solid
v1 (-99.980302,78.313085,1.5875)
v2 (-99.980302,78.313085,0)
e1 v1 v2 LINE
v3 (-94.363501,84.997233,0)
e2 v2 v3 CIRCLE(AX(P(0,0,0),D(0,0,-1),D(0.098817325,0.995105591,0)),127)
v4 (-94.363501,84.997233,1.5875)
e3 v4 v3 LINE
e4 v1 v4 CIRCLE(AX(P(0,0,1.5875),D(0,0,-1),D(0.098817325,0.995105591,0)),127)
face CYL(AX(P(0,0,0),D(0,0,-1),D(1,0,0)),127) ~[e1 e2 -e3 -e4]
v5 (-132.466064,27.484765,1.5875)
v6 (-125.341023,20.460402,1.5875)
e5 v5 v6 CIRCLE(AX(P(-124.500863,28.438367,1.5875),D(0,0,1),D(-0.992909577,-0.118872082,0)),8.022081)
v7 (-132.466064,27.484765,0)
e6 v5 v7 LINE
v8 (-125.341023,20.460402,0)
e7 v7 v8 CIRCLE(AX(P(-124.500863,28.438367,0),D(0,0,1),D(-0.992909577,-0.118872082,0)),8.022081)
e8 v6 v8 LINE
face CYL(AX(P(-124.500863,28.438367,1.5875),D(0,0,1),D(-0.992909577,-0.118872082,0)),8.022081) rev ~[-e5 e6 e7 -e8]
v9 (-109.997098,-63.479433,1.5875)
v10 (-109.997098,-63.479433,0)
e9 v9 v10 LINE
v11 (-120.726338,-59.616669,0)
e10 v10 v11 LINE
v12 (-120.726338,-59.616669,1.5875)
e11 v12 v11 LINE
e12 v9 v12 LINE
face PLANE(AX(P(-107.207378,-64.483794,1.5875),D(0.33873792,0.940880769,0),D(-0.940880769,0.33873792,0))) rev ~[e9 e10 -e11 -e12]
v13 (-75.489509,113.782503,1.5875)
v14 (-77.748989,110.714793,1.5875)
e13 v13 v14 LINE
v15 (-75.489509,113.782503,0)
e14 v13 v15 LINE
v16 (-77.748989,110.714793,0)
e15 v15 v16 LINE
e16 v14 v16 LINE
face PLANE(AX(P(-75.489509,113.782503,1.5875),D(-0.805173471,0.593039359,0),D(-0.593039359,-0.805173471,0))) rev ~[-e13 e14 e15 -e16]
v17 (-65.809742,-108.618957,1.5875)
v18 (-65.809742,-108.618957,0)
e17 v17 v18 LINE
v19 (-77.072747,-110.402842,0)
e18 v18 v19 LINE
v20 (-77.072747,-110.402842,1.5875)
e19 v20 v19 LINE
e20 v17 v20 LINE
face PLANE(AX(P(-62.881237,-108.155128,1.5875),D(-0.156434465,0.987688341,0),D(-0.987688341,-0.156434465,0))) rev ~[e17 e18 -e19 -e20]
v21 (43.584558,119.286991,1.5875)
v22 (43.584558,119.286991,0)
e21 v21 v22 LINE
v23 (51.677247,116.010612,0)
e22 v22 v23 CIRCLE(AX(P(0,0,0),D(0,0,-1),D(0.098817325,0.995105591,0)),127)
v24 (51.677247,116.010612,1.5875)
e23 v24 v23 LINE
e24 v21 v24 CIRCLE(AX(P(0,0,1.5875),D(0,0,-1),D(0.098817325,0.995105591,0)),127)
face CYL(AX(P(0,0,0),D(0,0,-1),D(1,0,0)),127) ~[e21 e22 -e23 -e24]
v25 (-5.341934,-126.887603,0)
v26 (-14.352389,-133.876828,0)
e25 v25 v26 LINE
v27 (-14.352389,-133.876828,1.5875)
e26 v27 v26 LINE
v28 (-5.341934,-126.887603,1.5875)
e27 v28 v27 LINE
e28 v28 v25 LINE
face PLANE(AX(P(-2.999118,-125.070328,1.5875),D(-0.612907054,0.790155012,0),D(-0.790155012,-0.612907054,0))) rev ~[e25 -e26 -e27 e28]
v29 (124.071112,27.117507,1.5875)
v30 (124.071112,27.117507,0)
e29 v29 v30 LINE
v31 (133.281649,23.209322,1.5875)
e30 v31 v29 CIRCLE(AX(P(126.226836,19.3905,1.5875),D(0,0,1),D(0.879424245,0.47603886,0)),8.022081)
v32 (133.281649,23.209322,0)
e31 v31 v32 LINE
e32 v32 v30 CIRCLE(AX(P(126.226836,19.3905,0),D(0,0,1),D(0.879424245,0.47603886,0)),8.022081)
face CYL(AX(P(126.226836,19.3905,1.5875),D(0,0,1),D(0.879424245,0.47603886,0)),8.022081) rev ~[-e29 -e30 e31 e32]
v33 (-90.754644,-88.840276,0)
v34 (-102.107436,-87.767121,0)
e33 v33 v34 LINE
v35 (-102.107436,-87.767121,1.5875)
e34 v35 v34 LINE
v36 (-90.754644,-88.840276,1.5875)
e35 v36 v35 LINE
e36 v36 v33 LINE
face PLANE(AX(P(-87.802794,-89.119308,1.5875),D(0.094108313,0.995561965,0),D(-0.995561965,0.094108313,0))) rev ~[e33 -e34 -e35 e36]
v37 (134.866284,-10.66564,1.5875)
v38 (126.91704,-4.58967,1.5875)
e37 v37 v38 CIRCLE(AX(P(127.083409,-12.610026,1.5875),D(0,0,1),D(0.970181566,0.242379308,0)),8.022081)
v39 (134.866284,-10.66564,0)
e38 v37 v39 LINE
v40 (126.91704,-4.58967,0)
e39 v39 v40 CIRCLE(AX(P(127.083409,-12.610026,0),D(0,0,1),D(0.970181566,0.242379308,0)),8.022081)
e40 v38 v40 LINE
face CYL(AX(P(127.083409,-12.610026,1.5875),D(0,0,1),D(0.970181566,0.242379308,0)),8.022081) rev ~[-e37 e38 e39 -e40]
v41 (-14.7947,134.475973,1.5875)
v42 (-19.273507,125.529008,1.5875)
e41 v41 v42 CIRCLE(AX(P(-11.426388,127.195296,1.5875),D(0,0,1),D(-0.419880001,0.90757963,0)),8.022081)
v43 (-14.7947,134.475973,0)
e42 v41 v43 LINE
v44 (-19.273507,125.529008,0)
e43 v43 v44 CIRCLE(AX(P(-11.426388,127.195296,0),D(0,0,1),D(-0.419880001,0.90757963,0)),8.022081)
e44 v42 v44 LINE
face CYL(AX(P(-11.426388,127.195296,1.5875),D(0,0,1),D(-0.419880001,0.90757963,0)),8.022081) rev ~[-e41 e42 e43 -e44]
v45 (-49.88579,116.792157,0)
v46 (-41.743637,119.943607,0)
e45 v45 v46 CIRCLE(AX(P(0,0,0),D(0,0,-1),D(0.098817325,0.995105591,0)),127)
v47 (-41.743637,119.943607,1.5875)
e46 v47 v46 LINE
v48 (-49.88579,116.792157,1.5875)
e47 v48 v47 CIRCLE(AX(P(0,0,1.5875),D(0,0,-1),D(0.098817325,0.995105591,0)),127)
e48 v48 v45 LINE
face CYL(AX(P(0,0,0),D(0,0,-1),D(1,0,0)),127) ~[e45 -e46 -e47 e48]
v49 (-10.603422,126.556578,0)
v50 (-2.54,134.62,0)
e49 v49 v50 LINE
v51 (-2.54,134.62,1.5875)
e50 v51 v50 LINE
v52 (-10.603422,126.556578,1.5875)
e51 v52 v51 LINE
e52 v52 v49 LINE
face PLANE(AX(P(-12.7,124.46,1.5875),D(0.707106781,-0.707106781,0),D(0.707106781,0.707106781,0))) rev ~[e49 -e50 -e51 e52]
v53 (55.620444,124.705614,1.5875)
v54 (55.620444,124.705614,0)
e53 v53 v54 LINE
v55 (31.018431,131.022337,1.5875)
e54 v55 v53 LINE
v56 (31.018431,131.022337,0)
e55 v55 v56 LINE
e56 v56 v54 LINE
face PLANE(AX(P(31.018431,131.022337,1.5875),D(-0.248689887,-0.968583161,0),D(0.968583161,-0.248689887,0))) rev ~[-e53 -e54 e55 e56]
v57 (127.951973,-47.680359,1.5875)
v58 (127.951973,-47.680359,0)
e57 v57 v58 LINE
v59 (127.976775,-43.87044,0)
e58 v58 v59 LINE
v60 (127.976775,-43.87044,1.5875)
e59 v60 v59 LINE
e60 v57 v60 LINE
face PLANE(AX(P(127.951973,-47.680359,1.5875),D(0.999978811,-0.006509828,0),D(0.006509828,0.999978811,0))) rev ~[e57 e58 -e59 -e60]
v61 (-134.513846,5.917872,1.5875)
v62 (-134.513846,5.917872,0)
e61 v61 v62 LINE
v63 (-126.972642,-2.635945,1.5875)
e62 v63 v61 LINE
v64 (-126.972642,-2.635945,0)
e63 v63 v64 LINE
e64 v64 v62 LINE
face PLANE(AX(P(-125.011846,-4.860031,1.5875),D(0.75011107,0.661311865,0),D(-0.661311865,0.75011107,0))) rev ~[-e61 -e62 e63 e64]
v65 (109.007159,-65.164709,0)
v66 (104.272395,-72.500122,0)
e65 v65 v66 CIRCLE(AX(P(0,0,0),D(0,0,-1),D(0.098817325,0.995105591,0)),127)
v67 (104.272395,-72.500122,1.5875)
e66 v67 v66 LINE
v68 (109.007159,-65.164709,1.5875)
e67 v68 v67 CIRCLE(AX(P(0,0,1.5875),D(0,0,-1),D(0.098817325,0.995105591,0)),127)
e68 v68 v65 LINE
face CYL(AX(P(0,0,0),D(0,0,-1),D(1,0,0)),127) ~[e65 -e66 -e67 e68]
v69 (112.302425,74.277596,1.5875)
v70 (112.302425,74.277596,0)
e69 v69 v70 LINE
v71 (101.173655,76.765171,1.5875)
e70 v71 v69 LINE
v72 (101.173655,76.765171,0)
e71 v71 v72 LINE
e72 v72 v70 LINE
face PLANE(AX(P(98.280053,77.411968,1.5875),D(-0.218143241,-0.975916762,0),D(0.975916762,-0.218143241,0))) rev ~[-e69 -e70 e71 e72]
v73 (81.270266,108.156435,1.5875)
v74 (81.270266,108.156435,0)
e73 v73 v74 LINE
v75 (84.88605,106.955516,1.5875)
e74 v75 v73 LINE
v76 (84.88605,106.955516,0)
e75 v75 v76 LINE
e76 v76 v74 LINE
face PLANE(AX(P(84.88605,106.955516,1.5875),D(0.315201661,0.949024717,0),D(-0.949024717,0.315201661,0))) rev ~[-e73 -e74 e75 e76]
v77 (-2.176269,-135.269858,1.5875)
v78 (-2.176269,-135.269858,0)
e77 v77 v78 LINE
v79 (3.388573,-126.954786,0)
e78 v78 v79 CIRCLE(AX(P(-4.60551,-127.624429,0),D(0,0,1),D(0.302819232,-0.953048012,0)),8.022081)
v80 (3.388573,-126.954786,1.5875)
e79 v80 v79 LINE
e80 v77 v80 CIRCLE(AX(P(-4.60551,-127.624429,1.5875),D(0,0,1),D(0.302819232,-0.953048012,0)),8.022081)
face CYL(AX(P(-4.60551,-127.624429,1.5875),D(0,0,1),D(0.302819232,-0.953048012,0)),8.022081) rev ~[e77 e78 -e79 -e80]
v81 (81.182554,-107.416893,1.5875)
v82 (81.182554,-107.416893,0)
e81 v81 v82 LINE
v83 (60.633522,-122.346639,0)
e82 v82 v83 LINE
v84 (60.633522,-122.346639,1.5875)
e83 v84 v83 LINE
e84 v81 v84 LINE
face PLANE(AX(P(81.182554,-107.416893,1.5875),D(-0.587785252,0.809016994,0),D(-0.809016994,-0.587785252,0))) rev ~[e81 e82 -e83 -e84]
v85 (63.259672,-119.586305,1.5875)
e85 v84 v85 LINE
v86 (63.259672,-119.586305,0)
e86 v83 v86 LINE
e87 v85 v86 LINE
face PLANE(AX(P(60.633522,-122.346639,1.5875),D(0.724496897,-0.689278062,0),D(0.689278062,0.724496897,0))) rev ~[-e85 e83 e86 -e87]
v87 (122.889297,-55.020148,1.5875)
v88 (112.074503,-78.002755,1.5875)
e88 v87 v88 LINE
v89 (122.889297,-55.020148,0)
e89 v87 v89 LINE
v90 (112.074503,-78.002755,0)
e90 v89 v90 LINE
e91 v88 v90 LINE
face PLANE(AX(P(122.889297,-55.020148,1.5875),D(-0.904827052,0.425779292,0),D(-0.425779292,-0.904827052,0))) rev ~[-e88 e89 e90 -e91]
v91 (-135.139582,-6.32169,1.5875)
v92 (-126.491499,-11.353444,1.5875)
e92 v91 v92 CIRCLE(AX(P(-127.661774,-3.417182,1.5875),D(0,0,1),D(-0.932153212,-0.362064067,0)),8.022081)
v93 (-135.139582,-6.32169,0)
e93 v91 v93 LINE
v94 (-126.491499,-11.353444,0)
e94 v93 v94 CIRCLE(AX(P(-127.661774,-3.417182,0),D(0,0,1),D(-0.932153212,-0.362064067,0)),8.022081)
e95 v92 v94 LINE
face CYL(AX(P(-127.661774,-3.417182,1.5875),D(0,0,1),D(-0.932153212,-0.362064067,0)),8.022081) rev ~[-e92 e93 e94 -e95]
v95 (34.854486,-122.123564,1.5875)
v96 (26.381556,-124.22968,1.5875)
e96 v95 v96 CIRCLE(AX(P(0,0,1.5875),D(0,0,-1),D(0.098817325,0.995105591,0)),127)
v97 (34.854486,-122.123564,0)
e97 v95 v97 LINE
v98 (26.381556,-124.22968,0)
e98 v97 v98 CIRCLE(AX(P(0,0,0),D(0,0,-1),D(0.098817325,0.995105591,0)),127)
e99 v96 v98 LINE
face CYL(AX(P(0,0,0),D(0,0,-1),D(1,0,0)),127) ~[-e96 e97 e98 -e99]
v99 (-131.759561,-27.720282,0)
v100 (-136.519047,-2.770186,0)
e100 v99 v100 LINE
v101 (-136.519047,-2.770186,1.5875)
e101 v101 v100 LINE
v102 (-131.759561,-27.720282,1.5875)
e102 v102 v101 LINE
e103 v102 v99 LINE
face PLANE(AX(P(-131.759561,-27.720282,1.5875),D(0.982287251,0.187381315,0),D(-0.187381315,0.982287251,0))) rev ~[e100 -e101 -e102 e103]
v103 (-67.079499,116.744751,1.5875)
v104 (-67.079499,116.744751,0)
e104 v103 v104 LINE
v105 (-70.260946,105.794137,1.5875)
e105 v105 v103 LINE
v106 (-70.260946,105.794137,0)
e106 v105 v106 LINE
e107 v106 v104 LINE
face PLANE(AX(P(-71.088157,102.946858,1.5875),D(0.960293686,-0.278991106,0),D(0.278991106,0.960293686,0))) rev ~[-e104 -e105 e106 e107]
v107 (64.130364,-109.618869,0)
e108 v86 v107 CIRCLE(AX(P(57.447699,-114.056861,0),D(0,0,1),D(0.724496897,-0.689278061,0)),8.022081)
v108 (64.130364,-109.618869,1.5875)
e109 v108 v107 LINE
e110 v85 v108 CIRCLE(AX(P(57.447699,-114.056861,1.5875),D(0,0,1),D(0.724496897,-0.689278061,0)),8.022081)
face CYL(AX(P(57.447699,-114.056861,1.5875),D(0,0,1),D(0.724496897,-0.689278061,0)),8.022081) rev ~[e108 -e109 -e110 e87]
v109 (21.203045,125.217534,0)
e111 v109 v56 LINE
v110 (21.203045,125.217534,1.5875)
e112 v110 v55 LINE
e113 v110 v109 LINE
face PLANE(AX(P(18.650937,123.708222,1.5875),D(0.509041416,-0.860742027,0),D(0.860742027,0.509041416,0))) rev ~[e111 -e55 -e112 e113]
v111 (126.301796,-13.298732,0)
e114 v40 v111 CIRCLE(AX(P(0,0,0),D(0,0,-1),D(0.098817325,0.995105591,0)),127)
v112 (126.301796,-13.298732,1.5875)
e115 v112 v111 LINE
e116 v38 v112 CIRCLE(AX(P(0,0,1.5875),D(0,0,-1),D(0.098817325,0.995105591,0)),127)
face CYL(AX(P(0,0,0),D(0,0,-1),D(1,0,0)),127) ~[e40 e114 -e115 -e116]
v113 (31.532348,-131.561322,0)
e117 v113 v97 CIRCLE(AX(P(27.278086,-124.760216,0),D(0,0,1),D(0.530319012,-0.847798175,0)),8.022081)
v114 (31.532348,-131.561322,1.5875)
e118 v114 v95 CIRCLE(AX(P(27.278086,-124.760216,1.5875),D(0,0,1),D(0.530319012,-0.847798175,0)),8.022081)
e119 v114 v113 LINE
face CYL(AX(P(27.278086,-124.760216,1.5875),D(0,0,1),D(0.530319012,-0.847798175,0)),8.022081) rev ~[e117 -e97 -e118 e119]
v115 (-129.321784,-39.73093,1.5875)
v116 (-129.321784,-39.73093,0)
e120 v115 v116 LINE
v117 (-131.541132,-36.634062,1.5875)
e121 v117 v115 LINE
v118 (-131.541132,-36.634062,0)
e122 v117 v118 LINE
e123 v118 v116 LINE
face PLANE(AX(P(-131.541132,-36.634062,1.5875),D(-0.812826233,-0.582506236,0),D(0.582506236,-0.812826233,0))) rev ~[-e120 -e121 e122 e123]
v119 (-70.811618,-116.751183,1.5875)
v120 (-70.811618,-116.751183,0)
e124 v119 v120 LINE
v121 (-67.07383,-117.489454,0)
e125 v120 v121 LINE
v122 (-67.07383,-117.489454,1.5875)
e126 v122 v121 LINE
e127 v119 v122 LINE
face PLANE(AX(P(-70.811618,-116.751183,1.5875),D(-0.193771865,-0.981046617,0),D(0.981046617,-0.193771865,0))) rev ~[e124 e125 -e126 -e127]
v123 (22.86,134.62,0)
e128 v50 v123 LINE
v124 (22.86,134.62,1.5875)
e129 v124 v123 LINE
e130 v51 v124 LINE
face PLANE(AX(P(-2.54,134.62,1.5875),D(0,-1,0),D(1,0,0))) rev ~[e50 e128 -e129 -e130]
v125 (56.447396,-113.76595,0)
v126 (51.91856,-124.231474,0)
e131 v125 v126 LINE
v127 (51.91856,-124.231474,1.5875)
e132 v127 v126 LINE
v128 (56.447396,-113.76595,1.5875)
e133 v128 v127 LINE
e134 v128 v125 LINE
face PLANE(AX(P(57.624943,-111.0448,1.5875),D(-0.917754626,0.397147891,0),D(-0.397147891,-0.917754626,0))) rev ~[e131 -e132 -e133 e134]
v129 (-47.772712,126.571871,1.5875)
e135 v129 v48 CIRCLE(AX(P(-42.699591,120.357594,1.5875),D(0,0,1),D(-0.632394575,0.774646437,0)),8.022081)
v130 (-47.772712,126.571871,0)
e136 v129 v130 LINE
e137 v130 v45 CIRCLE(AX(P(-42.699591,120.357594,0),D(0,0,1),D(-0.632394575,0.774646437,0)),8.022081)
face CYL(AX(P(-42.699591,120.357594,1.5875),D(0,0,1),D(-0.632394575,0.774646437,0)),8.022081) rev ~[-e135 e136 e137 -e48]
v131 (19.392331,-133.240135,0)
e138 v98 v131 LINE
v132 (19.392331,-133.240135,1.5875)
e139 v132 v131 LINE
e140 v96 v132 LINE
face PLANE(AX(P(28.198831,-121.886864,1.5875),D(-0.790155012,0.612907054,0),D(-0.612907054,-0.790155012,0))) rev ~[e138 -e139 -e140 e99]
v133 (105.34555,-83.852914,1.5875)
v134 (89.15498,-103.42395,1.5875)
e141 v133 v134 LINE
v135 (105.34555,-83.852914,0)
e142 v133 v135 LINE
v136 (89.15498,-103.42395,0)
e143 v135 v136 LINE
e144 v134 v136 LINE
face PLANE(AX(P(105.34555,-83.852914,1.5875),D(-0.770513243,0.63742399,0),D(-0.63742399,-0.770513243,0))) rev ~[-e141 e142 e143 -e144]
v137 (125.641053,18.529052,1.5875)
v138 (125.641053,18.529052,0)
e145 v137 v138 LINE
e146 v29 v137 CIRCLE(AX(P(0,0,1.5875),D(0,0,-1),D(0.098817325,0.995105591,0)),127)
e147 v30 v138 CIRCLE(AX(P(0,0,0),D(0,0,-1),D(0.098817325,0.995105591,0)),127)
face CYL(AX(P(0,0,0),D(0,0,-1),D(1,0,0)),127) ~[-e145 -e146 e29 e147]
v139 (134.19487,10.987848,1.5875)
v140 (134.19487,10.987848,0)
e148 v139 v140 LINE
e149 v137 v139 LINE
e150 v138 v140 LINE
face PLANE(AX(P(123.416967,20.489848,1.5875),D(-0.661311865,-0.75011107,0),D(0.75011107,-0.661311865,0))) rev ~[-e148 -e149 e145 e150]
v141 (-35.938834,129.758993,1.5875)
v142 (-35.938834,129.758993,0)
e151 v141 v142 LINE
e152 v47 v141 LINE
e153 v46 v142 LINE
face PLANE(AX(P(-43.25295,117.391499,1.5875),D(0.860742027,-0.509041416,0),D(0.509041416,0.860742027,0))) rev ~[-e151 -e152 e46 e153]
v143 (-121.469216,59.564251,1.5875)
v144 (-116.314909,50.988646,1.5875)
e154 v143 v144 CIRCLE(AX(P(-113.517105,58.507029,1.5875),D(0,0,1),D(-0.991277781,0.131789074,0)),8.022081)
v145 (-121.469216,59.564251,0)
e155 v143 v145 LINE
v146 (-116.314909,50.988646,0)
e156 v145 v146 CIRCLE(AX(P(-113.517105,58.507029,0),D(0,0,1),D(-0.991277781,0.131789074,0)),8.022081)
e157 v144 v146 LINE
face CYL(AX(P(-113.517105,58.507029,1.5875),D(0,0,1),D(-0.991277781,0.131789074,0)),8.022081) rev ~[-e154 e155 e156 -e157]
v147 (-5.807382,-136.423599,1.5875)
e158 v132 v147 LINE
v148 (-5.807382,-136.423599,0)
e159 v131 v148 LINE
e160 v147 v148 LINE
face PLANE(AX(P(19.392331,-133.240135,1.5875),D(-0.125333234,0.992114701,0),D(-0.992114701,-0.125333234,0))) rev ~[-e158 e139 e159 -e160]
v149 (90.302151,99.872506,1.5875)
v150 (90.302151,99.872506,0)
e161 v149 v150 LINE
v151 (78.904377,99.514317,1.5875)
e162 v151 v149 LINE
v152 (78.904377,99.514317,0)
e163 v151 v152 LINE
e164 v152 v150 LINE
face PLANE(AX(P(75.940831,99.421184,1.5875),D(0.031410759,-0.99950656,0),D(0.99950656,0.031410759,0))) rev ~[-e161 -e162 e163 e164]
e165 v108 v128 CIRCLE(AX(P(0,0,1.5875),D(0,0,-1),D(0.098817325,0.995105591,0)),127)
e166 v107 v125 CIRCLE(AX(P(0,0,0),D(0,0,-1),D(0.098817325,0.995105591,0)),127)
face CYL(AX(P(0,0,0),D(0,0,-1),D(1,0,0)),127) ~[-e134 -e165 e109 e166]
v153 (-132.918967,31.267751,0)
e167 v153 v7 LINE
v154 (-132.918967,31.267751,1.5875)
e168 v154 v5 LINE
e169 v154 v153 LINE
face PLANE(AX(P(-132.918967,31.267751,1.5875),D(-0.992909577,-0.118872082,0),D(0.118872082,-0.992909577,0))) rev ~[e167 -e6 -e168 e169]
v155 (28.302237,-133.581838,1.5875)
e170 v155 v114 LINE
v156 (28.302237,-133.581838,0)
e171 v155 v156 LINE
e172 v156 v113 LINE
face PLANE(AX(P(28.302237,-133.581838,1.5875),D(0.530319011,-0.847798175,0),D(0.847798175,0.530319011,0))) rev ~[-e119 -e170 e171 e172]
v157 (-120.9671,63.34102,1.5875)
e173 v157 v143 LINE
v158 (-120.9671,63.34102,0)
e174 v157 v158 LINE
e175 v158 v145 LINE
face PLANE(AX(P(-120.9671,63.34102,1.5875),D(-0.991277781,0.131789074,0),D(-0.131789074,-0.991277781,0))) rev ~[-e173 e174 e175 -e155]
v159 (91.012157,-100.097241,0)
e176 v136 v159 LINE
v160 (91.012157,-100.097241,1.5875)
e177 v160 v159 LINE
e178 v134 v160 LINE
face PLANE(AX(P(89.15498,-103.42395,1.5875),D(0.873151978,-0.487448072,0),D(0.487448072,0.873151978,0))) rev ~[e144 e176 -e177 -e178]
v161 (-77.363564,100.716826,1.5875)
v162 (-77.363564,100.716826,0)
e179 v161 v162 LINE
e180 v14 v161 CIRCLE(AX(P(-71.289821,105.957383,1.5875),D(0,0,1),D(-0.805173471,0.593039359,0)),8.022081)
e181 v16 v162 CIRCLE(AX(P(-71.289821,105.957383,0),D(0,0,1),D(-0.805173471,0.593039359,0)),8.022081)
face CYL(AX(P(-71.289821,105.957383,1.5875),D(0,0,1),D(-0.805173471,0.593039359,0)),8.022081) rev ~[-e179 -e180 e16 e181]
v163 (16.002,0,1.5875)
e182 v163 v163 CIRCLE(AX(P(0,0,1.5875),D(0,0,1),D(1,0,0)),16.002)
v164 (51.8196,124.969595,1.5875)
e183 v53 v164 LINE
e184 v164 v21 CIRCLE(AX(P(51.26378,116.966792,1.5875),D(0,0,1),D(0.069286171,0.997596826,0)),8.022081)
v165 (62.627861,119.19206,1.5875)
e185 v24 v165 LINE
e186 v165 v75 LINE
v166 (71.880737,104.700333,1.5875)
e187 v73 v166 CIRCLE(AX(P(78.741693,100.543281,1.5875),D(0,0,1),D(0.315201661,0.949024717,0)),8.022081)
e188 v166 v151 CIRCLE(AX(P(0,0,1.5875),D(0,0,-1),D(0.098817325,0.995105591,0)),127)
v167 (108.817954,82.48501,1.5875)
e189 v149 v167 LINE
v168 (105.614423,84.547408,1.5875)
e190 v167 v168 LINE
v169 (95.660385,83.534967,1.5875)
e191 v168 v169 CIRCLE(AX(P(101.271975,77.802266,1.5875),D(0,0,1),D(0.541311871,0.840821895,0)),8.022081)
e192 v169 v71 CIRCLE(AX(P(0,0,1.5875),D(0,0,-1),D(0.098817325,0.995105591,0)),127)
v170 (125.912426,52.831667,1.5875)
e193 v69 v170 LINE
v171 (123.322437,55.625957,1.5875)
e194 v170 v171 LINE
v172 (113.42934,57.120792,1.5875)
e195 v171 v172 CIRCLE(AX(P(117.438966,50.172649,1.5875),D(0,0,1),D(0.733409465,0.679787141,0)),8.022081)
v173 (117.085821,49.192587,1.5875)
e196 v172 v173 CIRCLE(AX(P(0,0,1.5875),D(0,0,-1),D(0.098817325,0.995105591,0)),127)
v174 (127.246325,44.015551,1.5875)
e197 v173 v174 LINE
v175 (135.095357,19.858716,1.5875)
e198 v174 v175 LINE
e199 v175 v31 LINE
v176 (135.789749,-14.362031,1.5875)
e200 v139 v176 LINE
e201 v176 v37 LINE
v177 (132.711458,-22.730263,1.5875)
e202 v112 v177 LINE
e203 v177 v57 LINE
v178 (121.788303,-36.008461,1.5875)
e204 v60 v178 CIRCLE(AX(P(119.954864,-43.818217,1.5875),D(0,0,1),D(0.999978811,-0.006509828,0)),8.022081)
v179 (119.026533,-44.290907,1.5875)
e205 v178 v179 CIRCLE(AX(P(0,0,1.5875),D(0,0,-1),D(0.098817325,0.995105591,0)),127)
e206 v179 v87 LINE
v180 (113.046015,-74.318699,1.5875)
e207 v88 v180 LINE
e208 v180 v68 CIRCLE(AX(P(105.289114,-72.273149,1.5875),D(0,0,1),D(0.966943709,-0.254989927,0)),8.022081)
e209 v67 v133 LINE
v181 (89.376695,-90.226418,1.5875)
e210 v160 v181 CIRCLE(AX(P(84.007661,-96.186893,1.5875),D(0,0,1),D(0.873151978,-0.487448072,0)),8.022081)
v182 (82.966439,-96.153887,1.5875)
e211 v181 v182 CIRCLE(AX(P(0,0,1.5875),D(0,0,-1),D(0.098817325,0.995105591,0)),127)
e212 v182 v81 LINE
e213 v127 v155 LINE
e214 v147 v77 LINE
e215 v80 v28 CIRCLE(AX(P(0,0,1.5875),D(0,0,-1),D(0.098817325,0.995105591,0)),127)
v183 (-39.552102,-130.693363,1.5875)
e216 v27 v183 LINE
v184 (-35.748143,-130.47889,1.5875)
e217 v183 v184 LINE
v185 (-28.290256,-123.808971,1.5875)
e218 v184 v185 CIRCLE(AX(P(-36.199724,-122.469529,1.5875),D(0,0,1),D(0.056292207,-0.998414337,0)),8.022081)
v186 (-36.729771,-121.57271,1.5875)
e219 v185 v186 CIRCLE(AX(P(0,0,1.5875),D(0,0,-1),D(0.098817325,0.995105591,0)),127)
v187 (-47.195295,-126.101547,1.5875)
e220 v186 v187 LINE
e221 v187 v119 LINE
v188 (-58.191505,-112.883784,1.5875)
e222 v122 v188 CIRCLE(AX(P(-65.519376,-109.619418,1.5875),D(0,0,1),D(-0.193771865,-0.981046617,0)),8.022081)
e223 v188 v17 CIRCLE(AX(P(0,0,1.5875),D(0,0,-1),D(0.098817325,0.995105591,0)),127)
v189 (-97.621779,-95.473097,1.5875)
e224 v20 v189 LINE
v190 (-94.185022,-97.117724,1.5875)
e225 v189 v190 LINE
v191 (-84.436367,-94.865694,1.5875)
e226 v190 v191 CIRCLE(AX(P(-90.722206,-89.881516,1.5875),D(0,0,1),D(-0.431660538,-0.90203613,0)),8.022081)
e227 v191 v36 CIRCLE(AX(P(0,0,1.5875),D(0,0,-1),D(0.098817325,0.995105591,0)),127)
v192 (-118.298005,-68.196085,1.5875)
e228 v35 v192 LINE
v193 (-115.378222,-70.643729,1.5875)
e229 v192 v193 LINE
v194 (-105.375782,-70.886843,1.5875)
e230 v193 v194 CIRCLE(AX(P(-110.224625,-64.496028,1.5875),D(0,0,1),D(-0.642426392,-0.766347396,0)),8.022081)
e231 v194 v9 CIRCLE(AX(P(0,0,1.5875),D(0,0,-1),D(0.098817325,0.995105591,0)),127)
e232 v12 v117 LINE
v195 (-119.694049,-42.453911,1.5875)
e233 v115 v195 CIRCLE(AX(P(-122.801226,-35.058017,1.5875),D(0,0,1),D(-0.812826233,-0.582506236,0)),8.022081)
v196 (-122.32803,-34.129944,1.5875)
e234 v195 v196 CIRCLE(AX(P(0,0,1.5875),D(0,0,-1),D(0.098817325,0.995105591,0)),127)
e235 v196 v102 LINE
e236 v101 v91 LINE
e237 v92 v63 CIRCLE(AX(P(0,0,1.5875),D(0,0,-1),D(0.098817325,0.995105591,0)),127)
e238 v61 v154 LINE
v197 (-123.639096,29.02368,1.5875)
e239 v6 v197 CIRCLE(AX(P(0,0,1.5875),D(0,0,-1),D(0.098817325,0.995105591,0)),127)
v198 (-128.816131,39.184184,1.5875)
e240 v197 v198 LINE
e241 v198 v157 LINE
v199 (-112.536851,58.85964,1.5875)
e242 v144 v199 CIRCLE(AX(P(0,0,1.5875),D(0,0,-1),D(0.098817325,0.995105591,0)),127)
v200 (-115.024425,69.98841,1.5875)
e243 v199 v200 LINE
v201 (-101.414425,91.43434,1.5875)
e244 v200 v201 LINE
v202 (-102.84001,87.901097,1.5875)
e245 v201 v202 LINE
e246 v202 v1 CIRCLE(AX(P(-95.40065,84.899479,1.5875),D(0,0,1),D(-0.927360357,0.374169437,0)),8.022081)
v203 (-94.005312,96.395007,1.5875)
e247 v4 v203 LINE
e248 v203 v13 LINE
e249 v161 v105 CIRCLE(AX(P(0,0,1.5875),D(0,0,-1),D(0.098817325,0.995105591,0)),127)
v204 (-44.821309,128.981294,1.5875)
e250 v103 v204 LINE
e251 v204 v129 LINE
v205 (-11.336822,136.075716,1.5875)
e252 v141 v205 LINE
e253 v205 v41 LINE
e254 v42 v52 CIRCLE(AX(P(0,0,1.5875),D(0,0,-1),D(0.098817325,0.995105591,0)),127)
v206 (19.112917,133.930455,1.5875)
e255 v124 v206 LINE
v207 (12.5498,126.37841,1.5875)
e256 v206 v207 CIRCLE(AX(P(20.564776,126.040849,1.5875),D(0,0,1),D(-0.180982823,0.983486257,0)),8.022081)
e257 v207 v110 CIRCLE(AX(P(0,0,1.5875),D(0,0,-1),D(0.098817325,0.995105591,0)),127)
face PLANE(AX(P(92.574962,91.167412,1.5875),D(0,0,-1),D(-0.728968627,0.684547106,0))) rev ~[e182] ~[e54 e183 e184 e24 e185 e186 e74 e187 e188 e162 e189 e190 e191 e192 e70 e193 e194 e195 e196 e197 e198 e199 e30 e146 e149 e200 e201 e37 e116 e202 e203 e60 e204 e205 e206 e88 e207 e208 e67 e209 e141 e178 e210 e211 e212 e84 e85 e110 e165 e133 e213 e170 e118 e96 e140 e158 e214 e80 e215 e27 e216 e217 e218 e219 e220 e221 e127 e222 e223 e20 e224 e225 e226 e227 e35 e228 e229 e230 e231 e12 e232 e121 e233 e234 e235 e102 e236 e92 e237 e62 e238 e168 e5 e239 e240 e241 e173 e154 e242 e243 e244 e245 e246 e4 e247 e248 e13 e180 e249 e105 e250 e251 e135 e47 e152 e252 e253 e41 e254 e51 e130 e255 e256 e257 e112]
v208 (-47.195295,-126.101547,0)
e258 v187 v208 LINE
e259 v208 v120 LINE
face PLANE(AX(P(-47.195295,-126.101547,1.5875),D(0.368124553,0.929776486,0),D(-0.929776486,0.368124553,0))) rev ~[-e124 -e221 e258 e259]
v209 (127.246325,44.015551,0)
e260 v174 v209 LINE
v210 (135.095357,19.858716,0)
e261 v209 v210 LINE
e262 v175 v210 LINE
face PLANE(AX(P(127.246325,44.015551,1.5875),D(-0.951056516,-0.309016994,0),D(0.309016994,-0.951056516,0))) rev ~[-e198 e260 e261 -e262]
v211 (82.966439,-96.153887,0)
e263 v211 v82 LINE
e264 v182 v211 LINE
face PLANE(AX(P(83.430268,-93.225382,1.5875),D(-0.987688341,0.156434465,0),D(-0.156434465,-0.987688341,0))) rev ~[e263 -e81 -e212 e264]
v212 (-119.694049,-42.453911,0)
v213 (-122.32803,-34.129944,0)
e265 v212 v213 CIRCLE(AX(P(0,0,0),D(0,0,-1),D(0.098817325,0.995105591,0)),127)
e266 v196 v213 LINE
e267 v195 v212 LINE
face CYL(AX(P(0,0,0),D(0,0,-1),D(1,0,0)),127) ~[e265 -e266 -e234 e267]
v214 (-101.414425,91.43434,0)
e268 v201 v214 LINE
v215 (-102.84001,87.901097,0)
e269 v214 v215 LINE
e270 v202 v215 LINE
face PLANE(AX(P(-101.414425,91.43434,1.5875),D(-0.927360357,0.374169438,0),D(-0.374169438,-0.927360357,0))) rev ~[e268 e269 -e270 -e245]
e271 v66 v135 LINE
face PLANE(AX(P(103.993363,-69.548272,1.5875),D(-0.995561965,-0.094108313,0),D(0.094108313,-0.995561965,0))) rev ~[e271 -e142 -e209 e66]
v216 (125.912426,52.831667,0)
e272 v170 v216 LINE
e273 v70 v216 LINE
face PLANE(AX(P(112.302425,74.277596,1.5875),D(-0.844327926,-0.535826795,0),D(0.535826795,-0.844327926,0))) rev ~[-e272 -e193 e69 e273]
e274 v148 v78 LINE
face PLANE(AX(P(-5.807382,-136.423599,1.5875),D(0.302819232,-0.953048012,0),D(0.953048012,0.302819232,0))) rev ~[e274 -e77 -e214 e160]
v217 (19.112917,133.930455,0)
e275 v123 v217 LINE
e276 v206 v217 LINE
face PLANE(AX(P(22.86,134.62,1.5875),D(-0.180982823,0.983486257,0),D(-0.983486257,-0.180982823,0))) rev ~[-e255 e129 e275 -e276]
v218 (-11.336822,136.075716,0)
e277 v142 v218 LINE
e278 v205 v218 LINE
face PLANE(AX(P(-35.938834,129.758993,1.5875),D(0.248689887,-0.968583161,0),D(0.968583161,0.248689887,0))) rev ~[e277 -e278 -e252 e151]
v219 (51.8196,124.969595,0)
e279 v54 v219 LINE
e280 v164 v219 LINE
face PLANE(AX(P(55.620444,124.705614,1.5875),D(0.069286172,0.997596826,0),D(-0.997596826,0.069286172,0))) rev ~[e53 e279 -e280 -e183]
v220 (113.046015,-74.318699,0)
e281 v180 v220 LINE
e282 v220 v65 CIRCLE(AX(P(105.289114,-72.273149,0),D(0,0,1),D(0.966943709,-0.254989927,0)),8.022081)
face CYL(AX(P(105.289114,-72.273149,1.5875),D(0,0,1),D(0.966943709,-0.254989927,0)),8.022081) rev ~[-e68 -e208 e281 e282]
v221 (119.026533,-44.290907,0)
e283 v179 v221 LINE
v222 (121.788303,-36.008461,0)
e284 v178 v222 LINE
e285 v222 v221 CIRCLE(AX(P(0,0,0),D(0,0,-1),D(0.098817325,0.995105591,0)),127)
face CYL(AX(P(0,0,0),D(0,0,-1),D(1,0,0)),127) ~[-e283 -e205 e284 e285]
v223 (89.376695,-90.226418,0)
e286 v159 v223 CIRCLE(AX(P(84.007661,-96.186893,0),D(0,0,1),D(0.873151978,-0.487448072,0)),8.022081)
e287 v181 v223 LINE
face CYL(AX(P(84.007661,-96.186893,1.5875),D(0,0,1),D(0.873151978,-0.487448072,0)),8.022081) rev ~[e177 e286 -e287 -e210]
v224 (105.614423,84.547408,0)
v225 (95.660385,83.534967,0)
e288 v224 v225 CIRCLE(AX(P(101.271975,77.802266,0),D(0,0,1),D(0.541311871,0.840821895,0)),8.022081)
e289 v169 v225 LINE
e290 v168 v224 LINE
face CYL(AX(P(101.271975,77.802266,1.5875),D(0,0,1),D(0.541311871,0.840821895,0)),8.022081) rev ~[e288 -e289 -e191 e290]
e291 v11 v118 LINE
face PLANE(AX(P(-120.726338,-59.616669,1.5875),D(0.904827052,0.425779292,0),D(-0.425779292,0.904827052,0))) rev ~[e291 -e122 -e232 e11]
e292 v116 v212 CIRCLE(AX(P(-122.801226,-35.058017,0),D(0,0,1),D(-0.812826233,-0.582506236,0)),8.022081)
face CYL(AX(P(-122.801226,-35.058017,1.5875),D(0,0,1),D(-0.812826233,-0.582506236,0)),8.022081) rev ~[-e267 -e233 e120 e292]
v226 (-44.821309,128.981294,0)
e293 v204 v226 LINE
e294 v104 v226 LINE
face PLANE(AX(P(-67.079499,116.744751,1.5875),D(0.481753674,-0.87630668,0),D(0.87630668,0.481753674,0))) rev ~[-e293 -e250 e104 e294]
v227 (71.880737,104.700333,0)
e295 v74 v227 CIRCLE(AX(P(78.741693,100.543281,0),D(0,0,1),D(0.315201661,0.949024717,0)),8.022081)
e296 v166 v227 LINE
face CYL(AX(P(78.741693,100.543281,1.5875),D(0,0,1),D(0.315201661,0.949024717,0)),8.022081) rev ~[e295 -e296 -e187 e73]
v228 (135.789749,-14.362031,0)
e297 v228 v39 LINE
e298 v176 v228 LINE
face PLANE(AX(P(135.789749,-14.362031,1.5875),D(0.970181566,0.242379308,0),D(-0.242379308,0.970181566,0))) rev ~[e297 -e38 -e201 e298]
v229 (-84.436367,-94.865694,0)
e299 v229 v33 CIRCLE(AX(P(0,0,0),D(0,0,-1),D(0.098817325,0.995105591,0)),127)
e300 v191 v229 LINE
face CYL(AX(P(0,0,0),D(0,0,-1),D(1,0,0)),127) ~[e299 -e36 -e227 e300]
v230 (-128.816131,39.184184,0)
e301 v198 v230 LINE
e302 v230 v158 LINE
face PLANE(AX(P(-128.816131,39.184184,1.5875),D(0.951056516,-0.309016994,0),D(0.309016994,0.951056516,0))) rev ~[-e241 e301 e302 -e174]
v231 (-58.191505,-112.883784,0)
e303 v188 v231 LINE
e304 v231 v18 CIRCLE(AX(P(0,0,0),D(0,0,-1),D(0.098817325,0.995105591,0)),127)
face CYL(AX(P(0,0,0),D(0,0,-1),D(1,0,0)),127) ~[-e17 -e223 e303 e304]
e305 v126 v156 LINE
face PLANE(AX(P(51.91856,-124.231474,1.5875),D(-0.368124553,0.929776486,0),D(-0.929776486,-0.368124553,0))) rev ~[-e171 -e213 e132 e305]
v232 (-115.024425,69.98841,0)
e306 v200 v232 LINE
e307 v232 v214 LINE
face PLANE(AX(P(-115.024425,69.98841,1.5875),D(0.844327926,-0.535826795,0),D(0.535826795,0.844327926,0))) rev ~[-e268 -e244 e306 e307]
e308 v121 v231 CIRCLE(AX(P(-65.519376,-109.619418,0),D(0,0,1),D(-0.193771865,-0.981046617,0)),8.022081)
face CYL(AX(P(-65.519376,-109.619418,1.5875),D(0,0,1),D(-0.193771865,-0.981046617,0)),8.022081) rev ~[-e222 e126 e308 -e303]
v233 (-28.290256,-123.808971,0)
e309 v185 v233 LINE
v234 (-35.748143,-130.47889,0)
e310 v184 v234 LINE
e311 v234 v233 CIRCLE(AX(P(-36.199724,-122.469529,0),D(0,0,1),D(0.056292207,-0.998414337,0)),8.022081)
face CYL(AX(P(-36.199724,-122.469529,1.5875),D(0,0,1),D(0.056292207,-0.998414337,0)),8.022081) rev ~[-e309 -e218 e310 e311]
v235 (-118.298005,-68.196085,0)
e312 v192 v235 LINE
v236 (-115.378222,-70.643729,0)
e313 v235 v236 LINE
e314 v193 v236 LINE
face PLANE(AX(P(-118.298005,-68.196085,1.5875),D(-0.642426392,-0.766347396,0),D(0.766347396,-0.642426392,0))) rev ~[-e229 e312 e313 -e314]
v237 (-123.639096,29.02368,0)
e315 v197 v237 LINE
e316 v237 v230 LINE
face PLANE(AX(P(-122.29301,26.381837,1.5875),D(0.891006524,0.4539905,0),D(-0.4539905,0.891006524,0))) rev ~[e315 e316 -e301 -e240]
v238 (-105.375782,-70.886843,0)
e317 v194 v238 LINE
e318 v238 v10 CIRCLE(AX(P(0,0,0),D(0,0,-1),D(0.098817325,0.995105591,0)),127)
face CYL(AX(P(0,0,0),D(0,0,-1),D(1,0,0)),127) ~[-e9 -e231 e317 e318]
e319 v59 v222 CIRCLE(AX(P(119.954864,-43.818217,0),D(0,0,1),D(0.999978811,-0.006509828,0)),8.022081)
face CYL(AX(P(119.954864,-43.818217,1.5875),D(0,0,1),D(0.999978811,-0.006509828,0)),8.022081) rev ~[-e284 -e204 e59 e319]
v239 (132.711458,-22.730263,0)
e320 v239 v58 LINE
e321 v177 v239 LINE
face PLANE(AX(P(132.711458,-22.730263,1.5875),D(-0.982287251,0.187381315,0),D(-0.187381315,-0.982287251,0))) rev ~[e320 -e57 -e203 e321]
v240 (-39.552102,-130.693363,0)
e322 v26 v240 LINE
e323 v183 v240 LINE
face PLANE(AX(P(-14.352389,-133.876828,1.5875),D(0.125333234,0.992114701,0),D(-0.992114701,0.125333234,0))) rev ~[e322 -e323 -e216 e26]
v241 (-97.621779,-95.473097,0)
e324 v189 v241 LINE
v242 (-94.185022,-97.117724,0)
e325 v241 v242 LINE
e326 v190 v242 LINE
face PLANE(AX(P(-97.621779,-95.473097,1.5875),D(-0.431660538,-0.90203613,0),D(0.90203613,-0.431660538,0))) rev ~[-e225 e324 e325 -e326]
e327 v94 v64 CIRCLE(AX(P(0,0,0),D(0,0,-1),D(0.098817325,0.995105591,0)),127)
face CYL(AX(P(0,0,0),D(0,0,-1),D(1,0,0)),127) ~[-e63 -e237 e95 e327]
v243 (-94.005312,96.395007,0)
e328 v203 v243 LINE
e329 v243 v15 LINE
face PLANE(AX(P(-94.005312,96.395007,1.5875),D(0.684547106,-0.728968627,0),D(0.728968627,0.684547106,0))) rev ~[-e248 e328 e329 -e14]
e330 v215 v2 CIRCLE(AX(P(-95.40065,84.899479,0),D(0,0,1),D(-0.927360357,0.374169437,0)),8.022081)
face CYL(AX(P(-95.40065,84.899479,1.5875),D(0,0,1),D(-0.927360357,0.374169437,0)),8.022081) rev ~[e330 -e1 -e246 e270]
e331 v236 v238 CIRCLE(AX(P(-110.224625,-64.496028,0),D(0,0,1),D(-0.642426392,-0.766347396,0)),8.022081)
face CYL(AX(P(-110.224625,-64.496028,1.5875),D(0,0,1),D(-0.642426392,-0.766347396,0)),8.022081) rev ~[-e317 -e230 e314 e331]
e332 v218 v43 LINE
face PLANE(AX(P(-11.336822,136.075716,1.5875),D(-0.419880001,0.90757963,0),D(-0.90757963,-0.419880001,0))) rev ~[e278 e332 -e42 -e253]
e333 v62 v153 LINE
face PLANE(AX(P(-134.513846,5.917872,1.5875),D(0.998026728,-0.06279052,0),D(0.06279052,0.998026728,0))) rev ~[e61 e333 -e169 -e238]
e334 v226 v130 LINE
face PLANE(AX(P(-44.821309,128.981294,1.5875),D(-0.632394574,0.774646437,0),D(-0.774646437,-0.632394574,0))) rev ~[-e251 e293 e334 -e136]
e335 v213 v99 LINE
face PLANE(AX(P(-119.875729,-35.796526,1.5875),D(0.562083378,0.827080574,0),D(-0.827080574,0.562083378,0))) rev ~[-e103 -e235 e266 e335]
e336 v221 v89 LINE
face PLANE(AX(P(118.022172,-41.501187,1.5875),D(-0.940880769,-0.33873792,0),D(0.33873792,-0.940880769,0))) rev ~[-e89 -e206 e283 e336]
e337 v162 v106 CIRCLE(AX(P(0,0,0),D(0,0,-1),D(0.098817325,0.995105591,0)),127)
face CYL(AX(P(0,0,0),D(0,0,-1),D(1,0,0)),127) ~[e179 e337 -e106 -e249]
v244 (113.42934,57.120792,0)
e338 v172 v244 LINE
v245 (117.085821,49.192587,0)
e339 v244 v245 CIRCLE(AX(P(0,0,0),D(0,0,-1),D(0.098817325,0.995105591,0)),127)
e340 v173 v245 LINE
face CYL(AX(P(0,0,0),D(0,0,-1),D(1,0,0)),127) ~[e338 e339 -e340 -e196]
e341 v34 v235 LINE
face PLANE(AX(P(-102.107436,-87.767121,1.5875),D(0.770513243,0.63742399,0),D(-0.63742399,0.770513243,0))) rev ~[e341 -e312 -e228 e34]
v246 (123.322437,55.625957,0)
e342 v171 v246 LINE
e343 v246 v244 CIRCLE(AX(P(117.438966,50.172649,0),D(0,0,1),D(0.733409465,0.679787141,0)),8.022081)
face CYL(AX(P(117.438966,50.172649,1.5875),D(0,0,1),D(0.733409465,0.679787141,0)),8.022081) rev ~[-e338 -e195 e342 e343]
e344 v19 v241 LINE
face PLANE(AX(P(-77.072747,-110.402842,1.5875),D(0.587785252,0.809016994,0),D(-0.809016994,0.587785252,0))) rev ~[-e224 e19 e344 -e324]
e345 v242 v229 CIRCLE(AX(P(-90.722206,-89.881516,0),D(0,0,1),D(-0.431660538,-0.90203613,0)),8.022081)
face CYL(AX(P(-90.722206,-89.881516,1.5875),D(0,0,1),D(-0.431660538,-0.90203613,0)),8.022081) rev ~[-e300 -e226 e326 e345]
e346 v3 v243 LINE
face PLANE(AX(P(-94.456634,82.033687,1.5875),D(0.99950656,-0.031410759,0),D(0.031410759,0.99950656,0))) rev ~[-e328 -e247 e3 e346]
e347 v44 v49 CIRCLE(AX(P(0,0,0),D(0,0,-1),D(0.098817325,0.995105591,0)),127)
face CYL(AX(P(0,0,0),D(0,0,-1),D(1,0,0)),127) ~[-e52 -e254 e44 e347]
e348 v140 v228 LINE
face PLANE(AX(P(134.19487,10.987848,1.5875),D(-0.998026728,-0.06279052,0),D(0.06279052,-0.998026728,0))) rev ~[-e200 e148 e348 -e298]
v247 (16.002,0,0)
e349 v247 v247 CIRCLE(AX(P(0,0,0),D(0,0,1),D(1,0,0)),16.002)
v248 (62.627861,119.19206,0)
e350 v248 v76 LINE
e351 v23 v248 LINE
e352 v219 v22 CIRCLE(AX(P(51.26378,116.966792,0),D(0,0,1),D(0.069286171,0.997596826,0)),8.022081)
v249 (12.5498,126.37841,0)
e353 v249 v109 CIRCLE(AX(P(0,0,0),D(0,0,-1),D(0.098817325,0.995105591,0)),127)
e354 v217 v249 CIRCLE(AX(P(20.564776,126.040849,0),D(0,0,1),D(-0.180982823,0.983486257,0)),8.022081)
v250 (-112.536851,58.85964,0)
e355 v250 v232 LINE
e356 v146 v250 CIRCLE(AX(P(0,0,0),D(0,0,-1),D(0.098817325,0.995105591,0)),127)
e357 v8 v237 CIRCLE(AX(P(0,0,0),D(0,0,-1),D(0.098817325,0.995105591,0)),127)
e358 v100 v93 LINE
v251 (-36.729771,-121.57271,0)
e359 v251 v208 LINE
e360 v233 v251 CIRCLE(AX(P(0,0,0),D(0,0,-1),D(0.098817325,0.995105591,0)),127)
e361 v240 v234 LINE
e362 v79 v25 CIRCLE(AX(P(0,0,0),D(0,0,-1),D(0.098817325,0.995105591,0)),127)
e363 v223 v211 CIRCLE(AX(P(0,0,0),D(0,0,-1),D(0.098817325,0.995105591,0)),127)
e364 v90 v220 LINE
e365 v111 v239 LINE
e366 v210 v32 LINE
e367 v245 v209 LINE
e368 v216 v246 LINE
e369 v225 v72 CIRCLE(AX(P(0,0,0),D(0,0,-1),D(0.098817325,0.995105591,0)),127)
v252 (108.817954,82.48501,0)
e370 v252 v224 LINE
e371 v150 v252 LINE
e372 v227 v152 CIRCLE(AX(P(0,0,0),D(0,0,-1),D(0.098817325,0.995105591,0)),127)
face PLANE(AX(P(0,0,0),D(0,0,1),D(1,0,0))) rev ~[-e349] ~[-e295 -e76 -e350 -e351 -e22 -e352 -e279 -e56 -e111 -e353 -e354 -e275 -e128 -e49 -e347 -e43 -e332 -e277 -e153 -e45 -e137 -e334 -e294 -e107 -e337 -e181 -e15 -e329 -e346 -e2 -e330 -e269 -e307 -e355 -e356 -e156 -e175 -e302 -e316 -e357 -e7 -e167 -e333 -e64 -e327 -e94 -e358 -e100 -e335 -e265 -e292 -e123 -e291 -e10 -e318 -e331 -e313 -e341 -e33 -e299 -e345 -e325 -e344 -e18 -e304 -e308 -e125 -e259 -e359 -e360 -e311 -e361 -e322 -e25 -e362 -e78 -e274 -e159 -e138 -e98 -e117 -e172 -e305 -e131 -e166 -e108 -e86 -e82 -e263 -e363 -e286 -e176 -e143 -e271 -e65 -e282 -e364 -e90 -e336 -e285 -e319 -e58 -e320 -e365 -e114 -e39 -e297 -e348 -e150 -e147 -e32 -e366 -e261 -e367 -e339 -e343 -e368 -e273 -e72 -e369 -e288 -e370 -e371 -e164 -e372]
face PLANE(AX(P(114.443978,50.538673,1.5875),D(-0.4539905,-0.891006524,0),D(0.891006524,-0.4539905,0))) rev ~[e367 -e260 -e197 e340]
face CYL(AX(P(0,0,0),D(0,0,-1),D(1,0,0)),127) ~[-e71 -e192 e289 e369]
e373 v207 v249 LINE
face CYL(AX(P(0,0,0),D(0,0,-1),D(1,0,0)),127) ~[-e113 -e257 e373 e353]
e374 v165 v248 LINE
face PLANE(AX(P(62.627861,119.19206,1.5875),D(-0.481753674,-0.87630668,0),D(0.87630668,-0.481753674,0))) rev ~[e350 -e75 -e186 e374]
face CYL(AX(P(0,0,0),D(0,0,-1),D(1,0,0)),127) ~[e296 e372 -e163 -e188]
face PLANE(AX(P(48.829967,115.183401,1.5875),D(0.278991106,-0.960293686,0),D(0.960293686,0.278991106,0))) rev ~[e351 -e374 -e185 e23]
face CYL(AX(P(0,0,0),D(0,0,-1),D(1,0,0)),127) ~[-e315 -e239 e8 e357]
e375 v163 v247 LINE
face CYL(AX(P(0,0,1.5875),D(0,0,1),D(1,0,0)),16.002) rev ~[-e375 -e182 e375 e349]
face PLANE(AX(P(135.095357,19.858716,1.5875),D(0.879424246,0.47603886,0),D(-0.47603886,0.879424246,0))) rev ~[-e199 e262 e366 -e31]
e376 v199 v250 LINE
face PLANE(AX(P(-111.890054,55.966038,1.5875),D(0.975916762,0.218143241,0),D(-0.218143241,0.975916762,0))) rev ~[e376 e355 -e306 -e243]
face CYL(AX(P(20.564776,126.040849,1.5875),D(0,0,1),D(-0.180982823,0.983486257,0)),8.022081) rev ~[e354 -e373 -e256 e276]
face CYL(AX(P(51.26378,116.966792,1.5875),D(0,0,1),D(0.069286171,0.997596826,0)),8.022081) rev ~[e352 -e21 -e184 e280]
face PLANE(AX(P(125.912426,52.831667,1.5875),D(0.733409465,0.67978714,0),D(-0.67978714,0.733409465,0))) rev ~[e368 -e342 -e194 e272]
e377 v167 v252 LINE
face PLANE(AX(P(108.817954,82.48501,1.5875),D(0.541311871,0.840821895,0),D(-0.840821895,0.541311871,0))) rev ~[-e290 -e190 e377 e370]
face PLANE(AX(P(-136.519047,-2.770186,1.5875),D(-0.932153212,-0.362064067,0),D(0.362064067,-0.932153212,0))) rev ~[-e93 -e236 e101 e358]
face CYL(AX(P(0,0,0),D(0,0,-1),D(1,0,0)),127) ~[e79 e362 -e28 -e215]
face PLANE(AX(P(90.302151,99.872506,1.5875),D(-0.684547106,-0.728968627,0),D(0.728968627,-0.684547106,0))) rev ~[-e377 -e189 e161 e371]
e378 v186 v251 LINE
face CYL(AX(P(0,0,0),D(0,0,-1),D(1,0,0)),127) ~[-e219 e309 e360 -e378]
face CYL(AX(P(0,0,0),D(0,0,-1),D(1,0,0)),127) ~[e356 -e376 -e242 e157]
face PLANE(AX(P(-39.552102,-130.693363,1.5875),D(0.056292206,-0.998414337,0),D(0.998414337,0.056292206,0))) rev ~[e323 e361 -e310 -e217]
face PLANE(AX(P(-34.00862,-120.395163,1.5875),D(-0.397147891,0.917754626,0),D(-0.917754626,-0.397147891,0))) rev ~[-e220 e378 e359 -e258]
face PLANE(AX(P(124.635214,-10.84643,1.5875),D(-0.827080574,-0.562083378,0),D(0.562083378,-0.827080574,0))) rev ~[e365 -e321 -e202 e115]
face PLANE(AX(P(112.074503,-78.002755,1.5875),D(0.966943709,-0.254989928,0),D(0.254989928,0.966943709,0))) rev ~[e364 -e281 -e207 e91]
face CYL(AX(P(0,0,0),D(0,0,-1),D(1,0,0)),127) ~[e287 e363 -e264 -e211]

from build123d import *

# Parameters (mm, degrees)
SKETCH1_R           = 127
BOSS_EXTRUDE1_DEPTH = 1.5875
CUT_EXTRUDE1_REACH  = 181.612
SKETCH2_R           = 16.002
BOSS_EXTRUDE2_DEPTH = 1.5875
CIRPATTERN1_COUNT   = 25


with BuildPart() as part:
    # Sketch1 → Boss-Extrude1 (new body)
    with BuildSketch(Plane.XY):
        Circle(SKETCH1_R)
    extrude(amount=BOSS_EXTRUDE1_DEPTH)

    # Sketch2 → Cut-Extrude1 (cut, up to next)
    with BuildSketch(Plane.XY.offset(1.5875), mode=Mode.PRIVATE) as cut_extrude1_sk1:
        Circle(SKETCH2_R)
    cut_extrude1_tool1 = extrude(cut_extrude1_sk1.sketch, amount=-CUT_EXTRUDE1_REACH, mode=Mode.PRIVATE) & part.part
    add(cut_extrude1_tool1.solids().sort_by_distance((0, 0, 1.5875))[0], mode=Mode.SUBTRACT)

    # Sketch4 → Boss-Extrude2 (add)
    with BuildSketch(Plane.XY.offset(1.5875)):
        with BuildLine():
            Line((-12.7, 124.46), (-2.54, 134.62))
            Line((-2.54, 134.62), (22.86, 134.62))
            Line((22.86, 134.62), (19.112917361, 133.930455445))
            ThreePointArc((19.112917361, 133.930455445), (13.922314054, 130.538790933), (12.7, 124.46))
            Line((12.7, 124.46), (-12.7, 124.46))
        make_face()
    boss_extrude2 = extrude(amount=-BOSS_EXTRUDE2_DEPTH)

    # CirPattern1: Boss-Extrude2 ×25 about axis
    cirpattern1_axis = Axis((0, 0, 0), (0, 0, 1))
    for i in range(1, CIRPATTERN1_COUNT):
        add(boss_extrude2.rotate(cirpattern1_axis, i * 360 / CIRPATTERN1_COUNT))


solid = part.part
